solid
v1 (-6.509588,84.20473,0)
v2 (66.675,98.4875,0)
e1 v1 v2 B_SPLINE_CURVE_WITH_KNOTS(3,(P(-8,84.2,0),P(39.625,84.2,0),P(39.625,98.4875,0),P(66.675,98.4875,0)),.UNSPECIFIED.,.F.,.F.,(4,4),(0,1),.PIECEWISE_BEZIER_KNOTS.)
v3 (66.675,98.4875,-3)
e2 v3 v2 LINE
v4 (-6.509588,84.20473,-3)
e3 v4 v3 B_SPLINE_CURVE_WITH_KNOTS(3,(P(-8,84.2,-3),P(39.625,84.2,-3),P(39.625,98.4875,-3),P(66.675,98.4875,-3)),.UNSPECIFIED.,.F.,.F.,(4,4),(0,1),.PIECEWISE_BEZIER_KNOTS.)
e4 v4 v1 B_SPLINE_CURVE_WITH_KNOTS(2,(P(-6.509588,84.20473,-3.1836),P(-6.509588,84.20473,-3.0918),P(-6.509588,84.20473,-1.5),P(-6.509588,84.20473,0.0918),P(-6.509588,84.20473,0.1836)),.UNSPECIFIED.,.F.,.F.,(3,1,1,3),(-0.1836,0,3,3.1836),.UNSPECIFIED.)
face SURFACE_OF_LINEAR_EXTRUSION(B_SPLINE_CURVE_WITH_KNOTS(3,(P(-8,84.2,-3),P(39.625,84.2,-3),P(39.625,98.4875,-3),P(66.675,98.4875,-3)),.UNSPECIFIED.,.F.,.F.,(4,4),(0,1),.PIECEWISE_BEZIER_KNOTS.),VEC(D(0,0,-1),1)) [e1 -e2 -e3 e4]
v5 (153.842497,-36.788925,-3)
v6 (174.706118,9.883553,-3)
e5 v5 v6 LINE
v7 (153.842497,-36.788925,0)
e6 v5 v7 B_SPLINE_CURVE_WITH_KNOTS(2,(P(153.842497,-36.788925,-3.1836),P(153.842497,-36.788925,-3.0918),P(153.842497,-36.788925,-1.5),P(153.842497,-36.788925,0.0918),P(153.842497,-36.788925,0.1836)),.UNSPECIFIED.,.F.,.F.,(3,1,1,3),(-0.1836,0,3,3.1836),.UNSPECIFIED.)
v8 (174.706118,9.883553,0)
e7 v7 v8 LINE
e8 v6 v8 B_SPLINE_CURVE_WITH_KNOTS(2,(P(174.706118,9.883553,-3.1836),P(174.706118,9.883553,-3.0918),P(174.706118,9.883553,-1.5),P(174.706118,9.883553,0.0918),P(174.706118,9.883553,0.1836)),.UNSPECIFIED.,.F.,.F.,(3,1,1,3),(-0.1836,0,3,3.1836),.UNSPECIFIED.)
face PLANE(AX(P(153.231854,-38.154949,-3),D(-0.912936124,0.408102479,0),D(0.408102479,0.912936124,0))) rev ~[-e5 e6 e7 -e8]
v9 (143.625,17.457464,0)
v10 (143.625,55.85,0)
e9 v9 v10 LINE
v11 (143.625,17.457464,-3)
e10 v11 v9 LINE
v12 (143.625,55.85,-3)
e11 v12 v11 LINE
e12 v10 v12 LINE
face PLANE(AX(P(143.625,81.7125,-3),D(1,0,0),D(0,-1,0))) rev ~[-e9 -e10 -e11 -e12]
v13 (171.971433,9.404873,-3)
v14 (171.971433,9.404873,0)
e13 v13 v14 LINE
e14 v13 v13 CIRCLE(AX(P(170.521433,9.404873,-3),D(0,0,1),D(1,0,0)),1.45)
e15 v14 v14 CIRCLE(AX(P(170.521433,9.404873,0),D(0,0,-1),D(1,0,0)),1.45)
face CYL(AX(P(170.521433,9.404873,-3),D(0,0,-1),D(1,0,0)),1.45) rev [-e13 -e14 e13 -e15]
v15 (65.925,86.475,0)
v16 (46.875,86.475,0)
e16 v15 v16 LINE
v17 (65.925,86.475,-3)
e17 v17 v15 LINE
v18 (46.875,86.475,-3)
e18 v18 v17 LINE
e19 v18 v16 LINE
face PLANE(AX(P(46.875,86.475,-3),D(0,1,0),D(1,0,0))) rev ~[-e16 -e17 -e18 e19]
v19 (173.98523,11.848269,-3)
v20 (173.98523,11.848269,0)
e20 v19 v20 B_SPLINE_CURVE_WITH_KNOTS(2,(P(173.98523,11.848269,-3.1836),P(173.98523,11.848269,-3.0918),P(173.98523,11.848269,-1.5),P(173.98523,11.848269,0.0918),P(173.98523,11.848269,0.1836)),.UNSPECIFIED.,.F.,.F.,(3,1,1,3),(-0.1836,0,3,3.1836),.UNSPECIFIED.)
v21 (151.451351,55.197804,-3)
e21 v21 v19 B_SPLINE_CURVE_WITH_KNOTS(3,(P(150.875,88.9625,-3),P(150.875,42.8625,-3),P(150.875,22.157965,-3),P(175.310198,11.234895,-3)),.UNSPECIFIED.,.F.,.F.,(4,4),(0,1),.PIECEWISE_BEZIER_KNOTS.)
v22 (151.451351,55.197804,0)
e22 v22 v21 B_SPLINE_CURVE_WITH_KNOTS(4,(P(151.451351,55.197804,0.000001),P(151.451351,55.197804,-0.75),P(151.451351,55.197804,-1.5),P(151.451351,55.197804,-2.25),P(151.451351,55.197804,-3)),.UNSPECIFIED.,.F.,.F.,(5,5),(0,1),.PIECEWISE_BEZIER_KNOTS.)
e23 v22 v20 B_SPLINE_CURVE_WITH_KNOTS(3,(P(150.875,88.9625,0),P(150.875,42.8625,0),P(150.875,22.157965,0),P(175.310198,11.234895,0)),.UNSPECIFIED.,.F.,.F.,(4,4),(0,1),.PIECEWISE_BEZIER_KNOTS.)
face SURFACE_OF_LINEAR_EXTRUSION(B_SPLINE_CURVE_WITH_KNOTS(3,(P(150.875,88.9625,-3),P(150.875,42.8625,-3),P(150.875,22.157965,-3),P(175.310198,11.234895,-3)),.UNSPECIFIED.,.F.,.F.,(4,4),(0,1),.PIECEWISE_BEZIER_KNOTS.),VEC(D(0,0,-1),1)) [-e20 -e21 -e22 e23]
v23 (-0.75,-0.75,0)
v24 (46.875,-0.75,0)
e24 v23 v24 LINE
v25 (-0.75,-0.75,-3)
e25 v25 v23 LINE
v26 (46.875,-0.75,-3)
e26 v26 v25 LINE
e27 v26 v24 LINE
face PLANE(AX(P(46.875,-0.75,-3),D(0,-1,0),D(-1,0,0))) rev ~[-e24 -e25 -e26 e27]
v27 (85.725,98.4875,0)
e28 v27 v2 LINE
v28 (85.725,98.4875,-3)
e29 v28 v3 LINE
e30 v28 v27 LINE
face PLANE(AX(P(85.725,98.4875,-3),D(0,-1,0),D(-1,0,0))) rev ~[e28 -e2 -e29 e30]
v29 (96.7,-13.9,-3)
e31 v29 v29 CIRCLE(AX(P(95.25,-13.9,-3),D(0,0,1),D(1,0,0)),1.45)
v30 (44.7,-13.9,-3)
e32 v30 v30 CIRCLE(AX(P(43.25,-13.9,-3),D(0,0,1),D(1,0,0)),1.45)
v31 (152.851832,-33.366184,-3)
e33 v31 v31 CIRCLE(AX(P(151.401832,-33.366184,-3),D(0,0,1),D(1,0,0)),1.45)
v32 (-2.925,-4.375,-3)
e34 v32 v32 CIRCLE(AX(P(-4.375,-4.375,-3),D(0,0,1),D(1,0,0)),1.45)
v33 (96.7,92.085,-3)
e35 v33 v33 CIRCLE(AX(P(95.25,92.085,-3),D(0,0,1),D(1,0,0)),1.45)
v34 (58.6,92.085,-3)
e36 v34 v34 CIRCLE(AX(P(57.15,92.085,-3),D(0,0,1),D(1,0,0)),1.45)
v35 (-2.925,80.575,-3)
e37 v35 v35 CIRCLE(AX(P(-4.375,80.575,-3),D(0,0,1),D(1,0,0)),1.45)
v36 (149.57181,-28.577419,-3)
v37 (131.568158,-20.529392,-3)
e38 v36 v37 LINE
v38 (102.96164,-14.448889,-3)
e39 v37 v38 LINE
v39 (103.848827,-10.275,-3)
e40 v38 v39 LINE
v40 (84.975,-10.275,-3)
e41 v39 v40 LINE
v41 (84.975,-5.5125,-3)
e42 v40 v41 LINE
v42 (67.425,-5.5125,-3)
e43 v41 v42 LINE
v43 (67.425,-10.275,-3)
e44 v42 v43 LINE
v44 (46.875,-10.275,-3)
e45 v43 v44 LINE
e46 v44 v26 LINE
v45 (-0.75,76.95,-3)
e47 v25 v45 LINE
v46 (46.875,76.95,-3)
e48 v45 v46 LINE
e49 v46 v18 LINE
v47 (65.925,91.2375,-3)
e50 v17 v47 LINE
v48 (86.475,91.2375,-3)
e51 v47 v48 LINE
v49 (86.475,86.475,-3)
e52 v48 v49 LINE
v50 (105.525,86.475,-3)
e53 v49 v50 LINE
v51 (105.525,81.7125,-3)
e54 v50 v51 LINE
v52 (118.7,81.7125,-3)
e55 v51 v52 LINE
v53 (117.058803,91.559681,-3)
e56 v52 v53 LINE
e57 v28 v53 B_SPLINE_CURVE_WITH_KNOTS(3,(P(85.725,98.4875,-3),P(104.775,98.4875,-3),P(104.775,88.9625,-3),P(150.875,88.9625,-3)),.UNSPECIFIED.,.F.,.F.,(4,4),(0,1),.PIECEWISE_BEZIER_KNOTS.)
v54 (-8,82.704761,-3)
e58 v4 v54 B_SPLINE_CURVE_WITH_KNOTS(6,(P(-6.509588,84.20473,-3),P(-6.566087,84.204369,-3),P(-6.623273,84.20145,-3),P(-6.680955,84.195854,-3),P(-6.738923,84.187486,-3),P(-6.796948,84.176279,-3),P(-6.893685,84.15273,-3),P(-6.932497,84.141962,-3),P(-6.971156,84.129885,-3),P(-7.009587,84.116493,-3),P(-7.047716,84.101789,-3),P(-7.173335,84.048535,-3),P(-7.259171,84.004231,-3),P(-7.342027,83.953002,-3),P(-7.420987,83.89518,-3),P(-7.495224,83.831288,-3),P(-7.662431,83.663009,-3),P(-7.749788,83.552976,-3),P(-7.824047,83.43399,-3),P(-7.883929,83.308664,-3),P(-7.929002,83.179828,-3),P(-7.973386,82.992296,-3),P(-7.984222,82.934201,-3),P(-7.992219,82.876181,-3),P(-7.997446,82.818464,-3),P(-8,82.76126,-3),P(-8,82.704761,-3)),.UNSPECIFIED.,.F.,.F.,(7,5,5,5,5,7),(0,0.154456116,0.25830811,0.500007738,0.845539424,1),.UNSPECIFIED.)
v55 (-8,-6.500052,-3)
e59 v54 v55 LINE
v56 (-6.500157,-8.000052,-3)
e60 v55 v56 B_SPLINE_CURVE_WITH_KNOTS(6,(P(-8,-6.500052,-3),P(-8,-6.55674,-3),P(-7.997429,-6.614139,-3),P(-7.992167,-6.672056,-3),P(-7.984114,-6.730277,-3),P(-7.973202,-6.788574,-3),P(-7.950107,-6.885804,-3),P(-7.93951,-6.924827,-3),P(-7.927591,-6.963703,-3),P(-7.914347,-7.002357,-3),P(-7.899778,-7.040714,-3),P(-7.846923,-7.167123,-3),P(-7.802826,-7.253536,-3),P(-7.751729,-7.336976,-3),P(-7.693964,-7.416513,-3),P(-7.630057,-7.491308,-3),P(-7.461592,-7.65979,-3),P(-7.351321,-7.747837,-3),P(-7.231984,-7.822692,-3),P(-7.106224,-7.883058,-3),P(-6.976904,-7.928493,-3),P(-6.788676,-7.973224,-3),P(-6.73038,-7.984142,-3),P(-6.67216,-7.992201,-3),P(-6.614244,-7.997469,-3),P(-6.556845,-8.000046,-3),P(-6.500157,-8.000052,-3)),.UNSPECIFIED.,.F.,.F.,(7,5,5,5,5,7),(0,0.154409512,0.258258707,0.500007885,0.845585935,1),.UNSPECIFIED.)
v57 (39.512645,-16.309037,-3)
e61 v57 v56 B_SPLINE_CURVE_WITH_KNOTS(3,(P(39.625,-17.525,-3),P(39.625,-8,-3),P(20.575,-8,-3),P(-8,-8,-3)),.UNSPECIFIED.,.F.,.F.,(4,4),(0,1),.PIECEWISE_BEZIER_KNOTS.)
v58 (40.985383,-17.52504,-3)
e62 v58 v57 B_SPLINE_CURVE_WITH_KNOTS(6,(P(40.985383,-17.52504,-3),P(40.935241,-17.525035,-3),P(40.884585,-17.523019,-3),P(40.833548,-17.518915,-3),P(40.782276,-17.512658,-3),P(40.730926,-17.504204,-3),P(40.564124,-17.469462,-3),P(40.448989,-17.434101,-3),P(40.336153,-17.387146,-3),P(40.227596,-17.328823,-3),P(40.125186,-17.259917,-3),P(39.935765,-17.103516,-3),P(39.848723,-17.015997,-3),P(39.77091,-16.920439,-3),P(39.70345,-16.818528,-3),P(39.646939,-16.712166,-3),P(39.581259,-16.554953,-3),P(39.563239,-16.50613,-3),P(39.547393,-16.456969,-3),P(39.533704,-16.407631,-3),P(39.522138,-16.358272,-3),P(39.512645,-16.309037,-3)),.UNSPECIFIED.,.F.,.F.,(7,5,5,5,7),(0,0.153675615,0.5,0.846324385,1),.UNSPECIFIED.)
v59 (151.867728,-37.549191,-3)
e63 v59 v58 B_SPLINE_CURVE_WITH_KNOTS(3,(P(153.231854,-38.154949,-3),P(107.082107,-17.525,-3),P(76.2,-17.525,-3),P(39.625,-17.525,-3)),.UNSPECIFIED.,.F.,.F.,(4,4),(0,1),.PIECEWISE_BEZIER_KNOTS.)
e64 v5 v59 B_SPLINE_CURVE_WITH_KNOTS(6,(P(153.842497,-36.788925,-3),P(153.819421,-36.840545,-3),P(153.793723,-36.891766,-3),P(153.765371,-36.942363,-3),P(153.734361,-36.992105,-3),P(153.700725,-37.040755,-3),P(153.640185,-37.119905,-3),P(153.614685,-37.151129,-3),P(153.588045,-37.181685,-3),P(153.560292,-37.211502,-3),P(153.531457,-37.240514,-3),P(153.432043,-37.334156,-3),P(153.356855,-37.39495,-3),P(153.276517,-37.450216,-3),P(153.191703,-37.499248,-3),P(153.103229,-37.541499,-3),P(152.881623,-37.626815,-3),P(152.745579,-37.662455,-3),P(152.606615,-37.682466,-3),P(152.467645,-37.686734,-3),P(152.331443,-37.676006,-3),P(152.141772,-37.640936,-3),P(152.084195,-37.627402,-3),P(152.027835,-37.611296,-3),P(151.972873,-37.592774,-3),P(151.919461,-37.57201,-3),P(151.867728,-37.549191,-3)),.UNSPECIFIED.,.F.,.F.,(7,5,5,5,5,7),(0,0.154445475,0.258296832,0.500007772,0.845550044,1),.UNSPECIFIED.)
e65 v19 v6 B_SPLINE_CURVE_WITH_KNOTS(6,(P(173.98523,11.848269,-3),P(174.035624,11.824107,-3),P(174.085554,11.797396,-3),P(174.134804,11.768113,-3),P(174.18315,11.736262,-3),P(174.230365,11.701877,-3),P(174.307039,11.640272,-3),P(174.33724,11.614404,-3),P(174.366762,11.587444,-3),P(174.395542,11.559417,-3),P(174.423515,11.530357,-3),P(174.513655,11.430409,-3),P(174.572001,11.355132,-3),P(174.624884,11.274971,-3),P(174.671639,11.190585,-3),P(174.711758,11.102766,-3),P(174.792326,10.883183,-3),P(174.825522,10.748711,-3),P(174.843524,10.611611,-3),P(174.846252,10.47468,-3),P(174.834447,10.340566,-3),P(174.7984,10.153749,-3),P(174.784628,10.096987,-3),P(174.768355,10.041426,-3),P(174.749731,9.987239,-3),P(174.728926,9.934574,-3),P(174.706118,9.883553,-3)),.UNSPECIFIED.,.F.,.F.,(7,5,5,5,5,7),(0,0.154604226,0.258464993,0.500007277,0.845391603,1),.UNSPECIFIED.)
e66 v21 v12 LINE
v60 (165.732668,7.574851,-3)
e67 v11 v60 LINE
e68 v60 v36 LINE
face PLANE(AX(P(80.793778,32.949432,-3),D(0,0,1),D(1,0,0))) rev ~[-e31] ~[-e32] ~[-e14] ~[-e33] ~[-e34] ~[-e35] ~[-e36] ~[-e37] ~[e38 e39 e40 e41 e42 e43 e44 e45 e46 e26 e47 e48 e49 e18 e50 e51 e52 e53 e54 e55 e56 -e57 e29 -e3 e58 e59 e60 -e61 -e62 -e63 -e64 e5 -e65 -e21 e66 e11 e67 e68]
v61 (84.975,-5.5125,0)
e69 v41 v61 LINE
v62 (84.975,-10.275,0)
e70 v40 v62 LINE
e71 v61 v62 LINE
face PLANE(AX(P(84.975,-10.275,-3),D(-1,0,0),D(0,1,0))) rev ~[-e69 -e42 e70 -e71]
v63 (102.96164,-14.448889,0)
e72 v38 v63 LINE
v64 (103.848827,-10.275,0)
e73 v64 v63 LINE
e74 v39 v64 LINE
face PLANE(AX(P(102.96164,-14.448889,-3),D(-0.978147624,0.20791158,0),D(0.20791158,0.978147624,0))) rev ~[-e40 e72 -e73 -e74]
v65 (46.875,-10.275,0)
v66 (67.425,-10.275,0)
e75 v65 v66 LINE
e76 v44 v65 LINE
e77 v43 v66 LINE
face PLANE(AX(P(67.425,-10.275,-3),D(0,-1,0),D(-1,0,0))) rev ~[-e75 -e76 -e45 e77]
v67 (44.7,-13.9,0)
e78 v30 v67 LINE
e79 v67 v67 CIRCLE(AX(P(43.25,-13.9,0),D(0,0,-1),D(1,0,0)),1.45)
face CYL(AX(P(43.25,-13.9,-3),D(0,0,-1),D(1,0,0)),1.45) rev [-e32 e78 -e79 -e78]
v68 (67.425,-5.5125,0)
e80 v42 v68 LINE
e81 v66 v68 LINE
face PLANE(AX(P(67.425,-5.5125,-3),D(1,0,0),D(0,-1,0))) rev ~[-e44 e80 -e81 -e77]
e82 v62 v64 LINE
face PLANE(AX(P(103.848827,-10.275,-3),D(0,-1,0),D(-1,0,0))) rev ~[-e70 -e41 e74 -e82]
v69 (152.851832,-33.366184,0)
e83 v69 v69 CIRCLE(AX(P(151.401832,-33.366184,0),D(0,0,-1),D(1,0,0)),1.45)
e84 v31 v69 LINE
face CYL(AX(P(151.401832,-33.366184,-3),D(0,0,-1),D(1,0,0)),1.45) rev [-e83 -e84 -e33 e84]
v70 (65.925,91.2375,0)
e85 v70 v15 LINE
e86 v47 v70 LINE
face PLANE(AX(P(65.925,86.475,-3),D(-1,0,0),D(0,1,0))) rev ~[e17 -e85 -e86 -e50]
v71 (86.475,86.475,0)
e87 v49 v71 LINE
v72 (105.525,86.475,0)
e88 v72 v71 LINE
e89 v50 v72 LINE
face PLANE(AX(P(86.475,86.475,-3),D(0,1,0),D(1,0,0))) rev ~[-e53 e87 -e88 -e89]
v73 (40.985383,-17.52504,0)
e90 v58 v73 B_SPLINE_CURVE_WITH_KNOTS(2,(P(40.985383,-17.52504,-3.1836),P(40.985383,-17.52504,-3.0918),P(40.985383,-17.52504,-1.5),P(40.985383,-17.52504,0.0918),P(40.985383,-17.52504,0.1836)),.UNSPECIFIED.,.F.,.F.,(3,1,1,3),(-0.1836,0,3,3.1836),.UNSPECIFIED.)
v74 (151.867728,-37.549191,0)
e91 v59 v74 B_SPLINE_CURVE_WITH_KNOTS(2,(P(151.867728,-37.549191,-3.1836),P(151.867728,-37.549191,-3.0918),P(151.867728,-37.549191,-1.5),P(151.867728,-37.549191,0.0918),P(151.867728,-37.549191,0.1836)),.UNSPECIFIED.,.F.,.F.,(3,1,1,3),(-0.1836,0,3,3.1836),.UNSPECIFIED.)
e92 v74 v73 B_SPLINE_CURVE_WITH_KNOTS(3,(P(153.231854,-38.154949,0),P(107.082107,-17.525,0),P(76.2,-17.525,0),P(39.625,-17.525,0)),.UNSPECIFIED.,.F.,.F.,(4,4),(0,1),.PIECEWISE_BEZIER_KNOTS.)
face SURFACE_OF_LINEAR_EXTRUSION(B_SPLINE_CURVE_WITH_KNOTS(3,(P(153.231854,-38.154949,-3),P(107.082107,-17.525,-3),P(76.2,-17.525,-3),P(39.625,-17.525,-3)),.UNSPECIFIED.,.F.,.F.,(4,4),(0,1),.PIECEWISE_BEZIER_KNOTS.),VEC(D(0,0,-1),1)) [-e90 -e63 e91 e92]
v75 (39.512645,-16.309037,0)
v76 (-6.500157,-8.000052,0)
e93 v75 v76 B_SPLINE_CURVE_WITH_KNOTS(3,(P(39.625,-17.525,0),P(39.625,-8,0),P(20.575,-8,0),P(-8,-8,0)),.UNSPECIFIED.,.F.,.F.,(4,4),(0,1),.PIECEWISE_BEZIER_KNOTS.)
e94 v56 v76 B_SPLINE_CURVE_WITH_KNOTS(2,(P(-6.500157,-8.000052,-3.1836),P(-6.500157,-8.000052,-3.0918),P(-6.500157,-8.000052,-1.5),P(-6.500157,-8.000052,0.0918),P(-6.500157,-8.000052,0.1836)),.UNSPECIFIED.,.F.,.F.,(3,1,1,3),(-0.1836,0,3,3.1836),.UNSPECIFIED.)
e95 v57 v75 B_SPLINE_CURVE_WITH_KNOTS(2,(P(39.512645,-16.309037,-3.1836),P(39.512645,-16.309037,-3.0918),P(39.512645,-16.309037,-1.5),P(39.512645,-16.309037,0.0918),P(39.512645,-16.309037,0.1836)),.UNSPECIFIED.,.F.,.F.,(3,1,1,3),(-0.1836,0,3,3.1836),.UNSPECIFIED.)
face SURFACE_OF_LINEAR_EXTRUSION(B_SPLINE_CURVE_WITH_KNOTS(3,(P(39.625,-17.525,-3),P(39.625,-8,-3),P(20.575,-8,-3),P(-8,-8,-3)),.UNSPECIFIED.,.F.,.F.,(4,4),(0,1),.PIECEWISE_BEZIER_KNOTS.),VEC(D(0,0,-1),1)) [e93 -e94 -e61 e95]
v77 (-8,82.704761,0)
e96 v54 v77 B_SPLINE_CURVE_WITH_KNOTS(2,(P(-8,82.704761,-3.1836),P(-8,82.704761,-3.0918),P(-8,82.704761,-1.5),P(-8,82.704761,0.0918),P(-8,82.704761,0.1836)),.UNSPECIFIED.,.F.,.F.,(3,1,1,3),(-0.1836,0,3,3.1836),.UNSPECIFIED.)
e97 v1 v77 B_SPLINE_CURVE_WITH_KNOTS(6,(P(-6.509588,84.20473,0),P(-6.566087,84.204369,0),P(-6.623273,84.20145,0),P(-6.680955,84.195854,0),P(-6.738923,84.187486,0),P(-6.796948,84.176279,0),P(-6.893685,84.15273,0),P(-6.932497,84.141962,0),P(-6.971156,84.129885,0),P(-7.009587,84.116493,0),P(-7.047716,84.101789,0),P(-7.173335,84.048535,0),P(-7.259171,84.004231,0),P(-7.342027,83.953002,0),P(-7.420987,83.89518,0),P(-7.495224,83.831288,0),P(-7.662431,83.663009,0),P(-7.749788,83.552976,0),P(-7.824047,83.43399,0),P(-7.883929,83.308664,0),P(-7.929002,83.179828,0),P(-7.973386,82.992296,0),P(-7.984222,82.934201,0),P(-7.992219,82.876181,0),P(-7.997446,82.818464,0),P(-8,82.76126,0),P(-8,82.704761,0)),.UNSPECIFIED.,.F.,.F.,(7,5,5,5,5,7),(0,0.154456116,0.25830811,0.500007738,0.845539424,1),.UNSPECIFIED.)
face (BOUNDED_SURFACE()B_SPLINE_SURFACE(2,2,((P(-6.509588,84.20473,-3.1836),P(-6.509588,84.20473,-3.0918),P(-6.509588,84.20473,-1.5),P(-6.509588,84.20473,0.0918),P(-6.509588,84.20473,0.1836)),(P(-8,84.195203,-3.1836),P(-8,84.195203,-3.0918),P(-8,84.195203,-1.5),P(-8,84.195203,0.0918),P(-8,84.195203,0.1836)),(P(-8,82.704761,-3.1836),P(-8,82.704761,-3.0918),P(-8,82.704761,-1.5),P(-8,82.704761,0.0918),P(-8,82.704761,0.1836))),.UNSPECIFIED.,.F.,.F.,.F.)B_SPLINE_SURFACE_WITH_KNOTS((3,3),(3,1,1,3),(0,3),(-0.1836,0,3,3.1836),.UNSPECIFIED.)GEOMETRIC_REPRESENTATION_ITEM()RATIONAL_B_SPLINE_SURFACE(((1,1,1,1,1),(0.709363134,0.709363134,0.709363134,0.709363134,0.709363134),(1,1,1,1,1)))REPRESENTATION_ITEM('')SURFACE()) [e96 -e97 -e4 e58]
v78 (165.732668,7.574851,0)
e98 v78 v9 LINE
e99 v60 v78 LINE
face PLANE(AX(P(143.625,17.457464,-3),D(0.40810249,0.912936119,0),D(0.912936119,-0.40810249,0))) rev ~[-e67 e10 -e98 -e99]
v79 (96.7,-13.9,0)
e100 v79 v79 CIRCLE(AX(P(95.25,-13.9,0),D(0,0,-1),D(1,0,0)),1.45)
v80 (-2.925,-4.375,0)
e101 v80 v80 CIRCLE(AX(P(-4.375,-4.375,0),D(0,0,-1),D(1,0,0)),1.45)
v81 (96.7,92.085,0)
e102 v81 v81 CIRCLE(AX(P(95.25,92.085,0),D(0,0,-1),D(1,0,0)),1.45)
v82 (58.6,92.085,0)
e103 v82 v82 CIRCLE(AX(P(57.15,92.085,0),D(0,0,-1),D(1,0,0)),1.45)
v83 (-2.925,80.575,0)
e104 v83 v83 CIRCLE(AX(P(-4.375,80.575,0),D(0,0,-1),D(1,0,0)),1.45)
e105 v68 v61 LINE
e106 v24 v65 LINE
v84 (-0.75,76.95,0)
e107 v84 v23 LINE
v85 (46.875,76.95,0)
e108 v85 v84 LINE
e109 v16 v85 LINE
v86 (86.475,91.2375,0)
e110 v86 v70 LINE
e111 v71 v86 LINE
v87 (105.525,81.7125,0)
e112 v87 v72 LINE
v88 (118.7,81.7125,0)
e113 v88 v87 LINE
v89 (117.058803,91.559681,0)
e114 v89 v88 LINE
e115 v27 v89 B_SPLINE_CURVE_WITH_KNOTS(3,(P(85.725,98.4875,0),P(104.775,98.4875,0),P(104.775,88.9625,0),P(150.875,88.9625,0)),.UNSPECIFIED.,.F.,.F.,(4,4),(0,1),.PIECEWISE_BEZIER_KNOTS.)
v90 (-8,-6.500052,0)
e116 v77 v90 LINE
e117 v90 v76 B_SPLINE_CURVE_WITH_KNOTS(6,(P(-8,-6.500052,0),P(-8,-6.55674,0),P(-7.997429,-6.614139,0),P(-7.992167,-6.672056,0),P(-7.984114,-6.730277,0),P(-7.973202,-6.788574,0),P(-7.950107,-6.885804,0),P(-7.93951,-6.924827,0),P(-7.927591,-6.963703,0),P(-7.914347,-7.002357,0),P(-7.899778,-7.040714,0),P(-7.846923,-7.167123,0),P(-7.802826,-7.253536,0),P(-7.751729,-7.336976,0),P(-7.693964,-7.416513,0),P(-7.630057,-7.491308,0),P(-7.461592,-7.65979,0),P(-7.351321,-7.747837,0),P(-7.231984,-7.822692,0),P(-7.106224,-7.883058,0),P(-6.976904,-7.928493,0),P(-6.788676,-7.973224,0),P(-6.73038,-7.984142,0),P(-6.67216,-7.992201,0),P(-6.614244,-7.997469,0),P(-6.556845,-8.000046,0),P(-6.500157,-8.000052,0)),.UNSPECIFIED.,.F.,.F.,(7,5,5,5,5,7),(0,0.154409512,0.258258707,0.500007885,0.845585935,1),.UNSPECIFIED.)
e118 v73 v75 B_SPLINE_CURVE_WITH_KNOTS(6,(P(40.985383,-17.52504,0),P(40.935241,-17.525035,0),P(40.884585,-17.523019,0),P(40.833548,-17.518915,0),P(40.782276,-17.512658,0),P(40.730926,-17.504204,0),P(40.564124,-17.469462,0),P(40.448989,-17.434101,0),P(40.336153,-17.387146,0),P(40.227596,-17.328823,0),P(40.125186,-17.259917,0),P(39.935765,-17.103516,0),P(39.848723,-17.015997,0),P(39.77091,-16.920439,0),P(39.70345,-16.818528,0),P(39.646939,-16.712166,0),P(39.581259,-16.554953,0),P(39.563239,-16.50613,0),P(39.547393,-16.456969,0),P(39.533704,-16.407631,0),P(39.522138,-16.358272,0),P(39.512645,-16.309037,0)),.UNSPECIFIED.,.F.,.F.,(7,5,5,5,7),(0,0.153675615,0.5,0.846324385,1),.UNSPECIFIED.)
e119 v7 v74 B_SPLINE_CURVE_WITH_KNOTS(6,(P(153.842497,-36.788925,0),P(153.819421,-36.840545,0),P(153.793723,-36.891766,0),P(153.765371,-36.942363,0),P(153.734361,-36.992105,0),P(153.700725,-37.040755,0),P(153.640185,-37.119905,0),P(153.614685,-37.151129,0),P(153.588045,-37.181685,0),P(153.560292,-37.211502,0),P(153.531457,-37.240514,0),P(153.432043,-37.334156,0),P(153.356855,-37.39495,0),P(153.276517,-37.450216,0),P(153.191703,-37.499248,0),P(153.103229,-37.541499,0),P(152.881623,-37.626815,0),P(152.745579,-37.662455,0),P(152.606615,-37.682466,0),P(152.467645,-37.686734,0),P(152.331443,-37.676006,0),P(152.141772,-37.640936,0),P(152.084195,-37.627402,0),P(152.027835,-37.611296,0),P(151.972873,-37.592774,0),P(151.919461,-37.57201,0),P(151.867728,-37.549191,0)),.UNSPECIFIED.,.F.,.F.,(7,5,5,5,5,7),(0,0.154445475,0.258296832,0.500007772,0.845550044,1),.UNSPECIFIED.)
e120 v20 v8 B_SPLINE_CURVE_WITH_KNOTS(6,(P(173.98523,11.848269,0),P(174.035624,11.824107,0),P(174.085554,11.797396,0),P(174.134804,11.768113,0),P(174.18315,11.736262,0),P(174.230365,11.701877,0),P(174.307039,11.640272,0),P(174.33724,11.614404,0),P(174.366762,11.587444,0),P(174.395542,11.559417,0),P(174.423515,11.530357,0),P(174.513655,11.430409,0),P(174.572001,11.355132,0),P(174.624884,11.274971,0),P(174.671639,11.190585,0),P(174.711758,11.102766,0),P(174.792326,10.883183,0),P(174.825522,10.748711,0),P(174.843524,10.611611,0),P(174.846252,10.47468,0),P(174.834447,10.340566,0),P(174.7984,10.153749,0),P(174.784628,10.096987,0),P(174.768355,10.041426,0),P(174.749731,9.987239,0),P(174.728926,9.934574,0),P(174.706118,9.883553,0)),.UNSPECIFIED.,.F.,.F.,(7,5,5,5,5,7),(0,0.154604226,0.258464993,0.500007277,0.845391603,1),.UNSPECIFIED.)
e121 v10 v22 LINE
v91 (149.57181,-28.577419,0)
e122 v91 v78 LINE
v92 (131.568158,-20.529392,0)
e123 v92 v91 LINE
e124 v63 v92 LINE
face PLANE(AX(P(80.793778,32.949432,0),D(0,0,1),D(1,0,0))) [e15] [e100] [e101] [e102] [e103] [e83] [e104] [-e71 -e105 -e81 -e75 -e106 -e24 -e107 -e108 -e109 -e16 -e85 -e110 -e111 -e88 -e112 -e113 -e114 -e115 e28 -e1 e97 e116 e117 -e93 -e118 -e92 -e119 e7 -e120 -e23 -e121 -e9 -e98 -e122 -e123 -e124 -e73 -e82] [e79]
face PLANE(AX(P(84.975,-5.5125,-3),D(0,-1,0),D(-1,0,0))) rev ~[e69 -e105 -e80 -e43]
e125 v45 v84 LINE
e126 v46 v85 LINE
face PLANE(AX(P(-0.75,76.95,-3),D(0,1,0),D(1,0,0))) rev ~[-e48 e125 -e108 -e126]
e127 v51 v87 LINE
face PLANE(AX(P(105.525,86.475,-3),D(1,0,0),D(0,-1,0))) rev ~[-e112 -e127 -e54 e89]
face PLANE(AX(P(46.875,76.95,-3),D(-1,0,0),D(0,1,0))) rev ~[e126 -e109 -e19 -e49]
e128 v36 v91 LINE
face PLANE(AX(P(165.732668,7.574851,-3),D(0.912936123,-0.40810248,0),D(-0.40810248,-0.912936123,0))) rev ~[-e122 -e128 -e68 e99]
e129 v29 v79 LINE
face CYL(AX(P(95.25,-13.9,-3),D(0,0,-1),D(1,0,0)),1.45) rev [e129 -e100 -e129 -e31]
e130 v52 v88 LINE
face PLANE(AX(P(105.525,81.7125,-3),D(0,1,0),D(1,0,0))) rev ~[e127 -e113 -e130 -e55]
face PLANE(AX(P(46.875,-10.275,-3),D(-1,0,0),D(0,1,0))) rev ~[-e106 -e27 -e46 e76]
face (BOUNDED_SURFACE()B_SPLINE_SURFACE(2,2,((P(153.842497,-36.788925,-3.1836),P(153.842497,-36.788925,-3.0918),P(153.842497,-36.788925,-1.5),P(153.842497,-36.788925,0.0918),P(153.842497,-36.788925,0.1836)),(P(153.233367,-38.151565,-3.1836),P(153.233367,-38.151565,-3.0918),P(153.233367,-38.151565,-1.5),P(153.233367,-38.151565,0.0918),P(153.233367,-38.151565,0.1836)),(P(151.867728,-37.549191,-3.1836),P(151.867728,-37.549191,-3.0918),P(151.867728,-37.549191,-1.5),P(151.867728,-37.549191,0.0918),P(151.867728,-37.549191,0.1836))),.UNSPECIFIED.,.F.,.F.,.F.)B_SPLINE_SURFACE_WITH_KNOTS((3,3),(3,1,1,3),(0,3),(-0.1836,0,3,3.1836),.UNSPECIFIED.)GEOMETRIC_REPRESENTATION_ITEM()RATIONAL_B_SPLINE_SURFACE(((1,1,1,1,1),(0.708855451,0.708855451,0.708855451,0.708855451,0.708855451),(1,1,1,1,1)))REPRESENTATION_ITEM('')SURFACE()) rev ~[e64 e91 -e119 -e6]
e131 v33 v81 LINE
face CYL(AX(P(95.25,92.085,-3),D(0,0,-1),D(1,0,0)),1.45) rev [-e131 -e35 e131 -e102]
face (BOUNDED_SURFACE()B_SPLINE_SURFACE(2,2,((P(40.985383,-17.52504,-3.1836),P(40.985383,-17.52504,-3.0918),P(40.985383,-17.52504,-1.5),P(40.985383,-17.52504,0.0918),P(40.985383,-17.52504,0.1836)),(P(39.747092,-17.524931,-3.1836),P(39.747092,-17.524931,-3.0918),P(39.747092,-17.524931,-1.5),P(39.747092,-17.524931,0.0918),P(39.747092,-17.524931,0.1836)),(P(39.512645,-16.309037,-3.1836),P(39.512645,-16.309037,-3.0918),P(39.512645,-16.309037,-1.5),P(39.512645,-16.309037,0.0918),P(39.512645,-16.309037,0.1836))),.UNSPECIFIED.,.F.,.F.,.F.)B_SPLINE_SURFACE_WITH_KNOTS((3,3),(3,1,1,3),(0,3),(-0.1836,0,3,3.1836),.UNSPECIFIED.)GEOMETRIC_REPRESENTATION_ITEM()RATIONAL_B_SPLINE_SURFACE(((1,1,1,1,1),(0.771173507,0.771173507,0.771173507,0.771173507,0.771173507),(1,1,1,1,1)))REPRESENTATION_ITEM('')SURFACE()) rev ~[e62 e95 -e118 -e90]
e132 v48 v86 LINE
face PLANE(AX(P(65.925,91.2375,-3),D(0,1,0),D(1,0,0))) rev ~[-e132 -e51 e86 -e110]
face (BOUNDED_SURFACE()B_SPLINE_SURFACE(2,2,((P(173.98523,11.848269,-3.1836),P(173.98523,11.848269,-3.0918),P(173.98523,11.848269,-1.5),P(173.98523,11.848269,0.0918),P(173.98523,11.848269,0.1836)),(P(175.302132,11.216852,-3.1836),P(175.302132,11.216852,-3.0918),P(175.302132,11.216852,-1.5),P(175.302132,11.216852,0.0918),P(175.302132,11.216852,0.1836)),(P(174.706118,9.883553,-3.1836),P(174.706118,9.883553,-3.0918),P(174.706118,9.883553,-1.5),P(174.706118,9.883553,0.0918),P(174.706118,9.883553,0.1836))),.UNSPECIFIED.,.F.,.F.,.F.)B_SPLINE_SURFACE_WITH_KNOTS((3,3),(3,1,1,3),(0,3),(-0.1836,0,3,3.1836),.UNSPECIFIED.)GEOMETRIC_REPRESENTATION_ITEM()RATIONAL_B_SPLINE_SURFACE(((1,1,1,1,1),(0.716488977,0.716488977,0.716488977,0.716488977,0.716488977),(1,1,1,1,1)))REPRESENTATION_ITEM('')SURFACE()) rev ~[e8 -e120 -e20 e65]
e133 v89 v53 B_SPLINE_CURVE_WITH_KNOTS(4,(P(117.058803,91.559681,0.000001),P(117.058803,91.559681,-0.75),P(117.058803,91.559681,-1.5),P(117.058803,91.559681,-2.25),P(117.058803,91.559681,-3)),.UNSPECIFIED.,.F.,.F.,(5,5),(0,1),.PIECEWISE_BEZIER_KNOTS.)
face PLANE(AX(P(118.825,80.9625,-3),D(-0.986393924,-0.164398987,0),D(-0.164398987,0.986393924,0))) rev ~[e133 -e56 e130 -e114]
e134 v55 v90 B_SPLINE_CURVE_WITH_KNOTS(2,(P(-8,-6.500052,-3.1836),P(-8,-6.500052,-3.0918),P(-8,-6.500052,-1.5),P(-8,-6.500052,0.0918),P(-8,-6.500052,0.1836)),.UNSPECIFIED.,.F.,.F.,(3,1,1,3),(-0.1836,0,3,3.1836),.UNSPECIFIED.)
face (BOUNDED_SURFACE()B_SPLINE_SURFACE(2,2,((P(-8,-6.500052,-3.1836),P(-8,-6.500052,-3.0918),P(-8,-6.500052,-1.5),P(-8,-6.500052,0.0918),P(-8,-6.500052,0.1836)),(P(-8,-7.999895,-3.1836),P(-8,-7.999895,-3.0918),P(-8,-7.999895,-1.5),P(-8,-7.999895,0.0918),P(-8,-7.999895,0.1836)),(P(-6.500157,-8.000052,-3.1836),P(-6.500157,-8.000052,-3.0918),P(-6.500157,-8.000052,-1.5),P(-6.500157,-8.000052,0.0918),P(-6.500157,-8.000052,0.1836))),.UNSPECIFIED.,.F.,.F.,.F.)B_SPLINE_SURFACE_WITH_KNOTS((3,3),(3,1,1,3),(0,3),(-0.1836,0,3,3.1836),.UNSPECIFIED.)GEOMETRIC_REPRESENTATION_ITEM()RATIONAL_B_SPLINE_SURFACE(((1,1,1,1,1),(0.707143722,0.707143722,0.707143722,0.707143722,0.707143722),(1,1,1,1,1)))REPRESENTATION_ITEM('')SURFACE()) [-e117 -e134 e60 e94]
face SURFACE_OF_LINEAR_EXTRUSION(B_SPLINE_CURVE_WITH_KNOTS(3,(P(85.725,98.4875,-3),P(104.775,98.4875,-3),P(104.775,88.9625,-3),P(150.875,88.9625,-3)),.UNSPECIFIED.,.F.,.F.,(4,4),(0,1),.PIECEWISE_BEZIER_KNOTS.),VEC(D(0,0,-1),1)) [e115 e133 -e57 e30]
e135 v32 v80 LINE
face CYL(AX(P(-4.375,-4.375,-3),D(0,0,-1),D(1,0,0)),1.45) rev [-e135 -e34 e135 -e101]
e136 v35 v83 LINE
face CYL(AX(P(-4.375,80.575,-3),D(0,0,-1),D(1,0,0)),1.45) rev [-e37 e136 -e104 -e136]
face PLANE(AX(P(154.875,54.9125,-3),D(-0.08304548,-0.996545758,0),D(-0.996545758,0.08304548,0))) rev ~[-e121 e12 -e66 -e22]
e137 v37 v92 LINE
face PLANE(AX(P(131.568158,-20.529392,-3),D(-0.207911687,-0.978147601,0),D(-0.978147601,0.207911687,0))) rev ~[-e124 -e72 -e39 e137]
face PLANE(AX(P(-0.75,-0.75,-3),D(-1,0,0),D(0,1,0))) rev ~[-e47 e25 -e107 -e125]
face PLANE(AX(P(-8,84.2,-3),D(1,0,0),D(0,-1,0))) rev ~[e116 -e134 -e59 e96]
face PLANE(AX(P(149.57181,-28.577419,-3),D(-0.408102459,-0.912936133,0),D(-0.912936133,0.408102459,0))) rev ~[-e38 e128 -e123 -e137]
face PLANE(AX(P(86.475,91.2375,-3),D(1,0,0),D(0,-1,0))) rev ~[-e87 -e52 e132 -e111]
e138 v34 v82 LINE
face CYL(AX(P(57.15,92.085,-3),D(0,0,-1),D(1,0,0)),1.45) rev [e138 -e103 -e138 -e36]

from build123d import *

# Parameters (mm, degrees)
PAD005_DEPTH    = 3
POCKET008_DEPTH = 5
SKETCH040_R     = 1.45
POCKET020_DEPTH = 15
POCKET026_DEPTH = 14
FILLET003_R     = 1.5


with BuildPart() as part:
    # Sketch024 → Pad005 (new body)
    with BuildSketch(Plane.XY):
        with BuildLine():
            Line((85.725, 98.4875), (66.675, 98.4875))
            add(Edge.make_bspline(
                [(-8, 84.2), (39.625, 84.2), (39.625, 98.4875), (66.675, 98.4875)],
                knots=[0, 0, 0, 0, 1, 1, 1, 1], degree=3))
            Line((-8, 84.2), (-8, -8))
            add(Edge.make_bspline(
                [(39.625, -17.525), (39.625, -8), (20.575, -8), (-8, -8)],
                knots=[0, 0, 0, 0, 1, 1, 1, 1], degree=3))
            add(Edge.make_bspline(
                [(153.231854, -38.154949), (107.082107, -17.525), (76.2, -17.525), (39.625, -17.525)],
                knots=[0, 0, 0, 0, 1, 1, 1, 1], degree=3))
            Line((153.231854, -38.154949), (175.310198, 11.234895))
            add(Edge.make_bspline(
                [(150.875, 88.9625), (150.875, 42.8625), (150.875, 22.157965), (175.310198, 11.234895)],
                knots=[0, 0, 0, 0, 1, 1, 1, 1], degree=3))
            add(Edge.make_bspline(
                [(85.725, 98.4875), (104.775, 98.4875), (104.775, 88.9625), (150.875, 88.9625)],
                knots=[0, 0, 0, 0, 1, 1, 1, 1], degree=3))
        make_face()
    extrude(amount=PAD005_DEPTH)

    # Sketch025 → Pocket008 (cut)
    with BuildSketch(Plane(origin=(0, 0, 0), x_dir=(1, 0, 0), z_dir=(0, 0, -1))):
        Polygon((-0.75, 0.75), (-0.75, -76.95), (46.875, -76.95), (46.875, -86.475), (65.925, -86.475), (65.925, -91.2375), (86.475, -91.2375), (86.475, -86.475), (105.525, -86.475), (105.525, -81.7125), (143.625, -81.7125), (143.625, -17.457464), (165.732668, -7.574851), (149.57181, 28.577419), (131.568158, 20.529392), (102.96164, 14.448889), (103.848827, 10.275), (84.975, 10.275), (84.975, 5.5125), (67.425, 5.5125), (67.425, 10.275), (46.875, 10.275), (46.875, 0.75), align=None)
    extrude(amount=-POCKET008_DEPTH, mode=Mode.SUBTRACT)

    # Sketch040 → Pocket020 (cut)
    with BuildSketch(Plane.XY):
        with Locations((-4.375, -4.375)):
            Circle(SKETCH040_R)
        with Locations((-4.375, 80.575)):
            Circle(SKETCH040_R)
        with Locations((151.401832, -33.366184)):
            Circle(SKETCH040_R)
        with Locations((170.521433, 9.404873)):
            Circle(SKETCH040_R)
        with Locations((147.25, 85.3375)):
            Circle(SKETCH040_R)
        with Locations((43.25, -13.9)):
            Circle(SKETCH040_R)
        with Locations((57.15, 92.085)):
            Circle(SKETCH040_R)
        with Locations((95.25, 92.085)):
            Circle(SKETCH040_R)
        with Locations((95.25, -13.9)):
            Circle(SKETCH040_R)
    extrude(amount=POCKET020_DEPTH, mode=Mode.SUBTRACT)

    # Sketch054 → Pocket026 (cut)
    with BuildSketch(Plane.XY):
        Polygon((118.825, 80.9625), (116.825, 92.9625), (166.907578, 98.346489), (154.875, 54.9125), (142.875, 55.9125), align=None)
    extrude(amount=POCKET026_DEPTH, mode=Mode.SUBTRACT)

    # Fillet003
    fillet003_edges = [part.edges().sort_by_distance(p)[0] for p in [
        (-8, -8, 1.5),
        (-8, 84.2, 1.5),
        (175.310198, 11.234895, 1.5),
        (153.231854, -38.154949, 1.5),
        (39.625, -17.525, 1.5),
    ]]
    fillet(fillet003_edges, radius=FILLET003_R)


with BuildPart() as part_1:
    # Body004 placement: moved
    add(part.part.moved(Location((0, 0, -3))))


solid = part_1.part
